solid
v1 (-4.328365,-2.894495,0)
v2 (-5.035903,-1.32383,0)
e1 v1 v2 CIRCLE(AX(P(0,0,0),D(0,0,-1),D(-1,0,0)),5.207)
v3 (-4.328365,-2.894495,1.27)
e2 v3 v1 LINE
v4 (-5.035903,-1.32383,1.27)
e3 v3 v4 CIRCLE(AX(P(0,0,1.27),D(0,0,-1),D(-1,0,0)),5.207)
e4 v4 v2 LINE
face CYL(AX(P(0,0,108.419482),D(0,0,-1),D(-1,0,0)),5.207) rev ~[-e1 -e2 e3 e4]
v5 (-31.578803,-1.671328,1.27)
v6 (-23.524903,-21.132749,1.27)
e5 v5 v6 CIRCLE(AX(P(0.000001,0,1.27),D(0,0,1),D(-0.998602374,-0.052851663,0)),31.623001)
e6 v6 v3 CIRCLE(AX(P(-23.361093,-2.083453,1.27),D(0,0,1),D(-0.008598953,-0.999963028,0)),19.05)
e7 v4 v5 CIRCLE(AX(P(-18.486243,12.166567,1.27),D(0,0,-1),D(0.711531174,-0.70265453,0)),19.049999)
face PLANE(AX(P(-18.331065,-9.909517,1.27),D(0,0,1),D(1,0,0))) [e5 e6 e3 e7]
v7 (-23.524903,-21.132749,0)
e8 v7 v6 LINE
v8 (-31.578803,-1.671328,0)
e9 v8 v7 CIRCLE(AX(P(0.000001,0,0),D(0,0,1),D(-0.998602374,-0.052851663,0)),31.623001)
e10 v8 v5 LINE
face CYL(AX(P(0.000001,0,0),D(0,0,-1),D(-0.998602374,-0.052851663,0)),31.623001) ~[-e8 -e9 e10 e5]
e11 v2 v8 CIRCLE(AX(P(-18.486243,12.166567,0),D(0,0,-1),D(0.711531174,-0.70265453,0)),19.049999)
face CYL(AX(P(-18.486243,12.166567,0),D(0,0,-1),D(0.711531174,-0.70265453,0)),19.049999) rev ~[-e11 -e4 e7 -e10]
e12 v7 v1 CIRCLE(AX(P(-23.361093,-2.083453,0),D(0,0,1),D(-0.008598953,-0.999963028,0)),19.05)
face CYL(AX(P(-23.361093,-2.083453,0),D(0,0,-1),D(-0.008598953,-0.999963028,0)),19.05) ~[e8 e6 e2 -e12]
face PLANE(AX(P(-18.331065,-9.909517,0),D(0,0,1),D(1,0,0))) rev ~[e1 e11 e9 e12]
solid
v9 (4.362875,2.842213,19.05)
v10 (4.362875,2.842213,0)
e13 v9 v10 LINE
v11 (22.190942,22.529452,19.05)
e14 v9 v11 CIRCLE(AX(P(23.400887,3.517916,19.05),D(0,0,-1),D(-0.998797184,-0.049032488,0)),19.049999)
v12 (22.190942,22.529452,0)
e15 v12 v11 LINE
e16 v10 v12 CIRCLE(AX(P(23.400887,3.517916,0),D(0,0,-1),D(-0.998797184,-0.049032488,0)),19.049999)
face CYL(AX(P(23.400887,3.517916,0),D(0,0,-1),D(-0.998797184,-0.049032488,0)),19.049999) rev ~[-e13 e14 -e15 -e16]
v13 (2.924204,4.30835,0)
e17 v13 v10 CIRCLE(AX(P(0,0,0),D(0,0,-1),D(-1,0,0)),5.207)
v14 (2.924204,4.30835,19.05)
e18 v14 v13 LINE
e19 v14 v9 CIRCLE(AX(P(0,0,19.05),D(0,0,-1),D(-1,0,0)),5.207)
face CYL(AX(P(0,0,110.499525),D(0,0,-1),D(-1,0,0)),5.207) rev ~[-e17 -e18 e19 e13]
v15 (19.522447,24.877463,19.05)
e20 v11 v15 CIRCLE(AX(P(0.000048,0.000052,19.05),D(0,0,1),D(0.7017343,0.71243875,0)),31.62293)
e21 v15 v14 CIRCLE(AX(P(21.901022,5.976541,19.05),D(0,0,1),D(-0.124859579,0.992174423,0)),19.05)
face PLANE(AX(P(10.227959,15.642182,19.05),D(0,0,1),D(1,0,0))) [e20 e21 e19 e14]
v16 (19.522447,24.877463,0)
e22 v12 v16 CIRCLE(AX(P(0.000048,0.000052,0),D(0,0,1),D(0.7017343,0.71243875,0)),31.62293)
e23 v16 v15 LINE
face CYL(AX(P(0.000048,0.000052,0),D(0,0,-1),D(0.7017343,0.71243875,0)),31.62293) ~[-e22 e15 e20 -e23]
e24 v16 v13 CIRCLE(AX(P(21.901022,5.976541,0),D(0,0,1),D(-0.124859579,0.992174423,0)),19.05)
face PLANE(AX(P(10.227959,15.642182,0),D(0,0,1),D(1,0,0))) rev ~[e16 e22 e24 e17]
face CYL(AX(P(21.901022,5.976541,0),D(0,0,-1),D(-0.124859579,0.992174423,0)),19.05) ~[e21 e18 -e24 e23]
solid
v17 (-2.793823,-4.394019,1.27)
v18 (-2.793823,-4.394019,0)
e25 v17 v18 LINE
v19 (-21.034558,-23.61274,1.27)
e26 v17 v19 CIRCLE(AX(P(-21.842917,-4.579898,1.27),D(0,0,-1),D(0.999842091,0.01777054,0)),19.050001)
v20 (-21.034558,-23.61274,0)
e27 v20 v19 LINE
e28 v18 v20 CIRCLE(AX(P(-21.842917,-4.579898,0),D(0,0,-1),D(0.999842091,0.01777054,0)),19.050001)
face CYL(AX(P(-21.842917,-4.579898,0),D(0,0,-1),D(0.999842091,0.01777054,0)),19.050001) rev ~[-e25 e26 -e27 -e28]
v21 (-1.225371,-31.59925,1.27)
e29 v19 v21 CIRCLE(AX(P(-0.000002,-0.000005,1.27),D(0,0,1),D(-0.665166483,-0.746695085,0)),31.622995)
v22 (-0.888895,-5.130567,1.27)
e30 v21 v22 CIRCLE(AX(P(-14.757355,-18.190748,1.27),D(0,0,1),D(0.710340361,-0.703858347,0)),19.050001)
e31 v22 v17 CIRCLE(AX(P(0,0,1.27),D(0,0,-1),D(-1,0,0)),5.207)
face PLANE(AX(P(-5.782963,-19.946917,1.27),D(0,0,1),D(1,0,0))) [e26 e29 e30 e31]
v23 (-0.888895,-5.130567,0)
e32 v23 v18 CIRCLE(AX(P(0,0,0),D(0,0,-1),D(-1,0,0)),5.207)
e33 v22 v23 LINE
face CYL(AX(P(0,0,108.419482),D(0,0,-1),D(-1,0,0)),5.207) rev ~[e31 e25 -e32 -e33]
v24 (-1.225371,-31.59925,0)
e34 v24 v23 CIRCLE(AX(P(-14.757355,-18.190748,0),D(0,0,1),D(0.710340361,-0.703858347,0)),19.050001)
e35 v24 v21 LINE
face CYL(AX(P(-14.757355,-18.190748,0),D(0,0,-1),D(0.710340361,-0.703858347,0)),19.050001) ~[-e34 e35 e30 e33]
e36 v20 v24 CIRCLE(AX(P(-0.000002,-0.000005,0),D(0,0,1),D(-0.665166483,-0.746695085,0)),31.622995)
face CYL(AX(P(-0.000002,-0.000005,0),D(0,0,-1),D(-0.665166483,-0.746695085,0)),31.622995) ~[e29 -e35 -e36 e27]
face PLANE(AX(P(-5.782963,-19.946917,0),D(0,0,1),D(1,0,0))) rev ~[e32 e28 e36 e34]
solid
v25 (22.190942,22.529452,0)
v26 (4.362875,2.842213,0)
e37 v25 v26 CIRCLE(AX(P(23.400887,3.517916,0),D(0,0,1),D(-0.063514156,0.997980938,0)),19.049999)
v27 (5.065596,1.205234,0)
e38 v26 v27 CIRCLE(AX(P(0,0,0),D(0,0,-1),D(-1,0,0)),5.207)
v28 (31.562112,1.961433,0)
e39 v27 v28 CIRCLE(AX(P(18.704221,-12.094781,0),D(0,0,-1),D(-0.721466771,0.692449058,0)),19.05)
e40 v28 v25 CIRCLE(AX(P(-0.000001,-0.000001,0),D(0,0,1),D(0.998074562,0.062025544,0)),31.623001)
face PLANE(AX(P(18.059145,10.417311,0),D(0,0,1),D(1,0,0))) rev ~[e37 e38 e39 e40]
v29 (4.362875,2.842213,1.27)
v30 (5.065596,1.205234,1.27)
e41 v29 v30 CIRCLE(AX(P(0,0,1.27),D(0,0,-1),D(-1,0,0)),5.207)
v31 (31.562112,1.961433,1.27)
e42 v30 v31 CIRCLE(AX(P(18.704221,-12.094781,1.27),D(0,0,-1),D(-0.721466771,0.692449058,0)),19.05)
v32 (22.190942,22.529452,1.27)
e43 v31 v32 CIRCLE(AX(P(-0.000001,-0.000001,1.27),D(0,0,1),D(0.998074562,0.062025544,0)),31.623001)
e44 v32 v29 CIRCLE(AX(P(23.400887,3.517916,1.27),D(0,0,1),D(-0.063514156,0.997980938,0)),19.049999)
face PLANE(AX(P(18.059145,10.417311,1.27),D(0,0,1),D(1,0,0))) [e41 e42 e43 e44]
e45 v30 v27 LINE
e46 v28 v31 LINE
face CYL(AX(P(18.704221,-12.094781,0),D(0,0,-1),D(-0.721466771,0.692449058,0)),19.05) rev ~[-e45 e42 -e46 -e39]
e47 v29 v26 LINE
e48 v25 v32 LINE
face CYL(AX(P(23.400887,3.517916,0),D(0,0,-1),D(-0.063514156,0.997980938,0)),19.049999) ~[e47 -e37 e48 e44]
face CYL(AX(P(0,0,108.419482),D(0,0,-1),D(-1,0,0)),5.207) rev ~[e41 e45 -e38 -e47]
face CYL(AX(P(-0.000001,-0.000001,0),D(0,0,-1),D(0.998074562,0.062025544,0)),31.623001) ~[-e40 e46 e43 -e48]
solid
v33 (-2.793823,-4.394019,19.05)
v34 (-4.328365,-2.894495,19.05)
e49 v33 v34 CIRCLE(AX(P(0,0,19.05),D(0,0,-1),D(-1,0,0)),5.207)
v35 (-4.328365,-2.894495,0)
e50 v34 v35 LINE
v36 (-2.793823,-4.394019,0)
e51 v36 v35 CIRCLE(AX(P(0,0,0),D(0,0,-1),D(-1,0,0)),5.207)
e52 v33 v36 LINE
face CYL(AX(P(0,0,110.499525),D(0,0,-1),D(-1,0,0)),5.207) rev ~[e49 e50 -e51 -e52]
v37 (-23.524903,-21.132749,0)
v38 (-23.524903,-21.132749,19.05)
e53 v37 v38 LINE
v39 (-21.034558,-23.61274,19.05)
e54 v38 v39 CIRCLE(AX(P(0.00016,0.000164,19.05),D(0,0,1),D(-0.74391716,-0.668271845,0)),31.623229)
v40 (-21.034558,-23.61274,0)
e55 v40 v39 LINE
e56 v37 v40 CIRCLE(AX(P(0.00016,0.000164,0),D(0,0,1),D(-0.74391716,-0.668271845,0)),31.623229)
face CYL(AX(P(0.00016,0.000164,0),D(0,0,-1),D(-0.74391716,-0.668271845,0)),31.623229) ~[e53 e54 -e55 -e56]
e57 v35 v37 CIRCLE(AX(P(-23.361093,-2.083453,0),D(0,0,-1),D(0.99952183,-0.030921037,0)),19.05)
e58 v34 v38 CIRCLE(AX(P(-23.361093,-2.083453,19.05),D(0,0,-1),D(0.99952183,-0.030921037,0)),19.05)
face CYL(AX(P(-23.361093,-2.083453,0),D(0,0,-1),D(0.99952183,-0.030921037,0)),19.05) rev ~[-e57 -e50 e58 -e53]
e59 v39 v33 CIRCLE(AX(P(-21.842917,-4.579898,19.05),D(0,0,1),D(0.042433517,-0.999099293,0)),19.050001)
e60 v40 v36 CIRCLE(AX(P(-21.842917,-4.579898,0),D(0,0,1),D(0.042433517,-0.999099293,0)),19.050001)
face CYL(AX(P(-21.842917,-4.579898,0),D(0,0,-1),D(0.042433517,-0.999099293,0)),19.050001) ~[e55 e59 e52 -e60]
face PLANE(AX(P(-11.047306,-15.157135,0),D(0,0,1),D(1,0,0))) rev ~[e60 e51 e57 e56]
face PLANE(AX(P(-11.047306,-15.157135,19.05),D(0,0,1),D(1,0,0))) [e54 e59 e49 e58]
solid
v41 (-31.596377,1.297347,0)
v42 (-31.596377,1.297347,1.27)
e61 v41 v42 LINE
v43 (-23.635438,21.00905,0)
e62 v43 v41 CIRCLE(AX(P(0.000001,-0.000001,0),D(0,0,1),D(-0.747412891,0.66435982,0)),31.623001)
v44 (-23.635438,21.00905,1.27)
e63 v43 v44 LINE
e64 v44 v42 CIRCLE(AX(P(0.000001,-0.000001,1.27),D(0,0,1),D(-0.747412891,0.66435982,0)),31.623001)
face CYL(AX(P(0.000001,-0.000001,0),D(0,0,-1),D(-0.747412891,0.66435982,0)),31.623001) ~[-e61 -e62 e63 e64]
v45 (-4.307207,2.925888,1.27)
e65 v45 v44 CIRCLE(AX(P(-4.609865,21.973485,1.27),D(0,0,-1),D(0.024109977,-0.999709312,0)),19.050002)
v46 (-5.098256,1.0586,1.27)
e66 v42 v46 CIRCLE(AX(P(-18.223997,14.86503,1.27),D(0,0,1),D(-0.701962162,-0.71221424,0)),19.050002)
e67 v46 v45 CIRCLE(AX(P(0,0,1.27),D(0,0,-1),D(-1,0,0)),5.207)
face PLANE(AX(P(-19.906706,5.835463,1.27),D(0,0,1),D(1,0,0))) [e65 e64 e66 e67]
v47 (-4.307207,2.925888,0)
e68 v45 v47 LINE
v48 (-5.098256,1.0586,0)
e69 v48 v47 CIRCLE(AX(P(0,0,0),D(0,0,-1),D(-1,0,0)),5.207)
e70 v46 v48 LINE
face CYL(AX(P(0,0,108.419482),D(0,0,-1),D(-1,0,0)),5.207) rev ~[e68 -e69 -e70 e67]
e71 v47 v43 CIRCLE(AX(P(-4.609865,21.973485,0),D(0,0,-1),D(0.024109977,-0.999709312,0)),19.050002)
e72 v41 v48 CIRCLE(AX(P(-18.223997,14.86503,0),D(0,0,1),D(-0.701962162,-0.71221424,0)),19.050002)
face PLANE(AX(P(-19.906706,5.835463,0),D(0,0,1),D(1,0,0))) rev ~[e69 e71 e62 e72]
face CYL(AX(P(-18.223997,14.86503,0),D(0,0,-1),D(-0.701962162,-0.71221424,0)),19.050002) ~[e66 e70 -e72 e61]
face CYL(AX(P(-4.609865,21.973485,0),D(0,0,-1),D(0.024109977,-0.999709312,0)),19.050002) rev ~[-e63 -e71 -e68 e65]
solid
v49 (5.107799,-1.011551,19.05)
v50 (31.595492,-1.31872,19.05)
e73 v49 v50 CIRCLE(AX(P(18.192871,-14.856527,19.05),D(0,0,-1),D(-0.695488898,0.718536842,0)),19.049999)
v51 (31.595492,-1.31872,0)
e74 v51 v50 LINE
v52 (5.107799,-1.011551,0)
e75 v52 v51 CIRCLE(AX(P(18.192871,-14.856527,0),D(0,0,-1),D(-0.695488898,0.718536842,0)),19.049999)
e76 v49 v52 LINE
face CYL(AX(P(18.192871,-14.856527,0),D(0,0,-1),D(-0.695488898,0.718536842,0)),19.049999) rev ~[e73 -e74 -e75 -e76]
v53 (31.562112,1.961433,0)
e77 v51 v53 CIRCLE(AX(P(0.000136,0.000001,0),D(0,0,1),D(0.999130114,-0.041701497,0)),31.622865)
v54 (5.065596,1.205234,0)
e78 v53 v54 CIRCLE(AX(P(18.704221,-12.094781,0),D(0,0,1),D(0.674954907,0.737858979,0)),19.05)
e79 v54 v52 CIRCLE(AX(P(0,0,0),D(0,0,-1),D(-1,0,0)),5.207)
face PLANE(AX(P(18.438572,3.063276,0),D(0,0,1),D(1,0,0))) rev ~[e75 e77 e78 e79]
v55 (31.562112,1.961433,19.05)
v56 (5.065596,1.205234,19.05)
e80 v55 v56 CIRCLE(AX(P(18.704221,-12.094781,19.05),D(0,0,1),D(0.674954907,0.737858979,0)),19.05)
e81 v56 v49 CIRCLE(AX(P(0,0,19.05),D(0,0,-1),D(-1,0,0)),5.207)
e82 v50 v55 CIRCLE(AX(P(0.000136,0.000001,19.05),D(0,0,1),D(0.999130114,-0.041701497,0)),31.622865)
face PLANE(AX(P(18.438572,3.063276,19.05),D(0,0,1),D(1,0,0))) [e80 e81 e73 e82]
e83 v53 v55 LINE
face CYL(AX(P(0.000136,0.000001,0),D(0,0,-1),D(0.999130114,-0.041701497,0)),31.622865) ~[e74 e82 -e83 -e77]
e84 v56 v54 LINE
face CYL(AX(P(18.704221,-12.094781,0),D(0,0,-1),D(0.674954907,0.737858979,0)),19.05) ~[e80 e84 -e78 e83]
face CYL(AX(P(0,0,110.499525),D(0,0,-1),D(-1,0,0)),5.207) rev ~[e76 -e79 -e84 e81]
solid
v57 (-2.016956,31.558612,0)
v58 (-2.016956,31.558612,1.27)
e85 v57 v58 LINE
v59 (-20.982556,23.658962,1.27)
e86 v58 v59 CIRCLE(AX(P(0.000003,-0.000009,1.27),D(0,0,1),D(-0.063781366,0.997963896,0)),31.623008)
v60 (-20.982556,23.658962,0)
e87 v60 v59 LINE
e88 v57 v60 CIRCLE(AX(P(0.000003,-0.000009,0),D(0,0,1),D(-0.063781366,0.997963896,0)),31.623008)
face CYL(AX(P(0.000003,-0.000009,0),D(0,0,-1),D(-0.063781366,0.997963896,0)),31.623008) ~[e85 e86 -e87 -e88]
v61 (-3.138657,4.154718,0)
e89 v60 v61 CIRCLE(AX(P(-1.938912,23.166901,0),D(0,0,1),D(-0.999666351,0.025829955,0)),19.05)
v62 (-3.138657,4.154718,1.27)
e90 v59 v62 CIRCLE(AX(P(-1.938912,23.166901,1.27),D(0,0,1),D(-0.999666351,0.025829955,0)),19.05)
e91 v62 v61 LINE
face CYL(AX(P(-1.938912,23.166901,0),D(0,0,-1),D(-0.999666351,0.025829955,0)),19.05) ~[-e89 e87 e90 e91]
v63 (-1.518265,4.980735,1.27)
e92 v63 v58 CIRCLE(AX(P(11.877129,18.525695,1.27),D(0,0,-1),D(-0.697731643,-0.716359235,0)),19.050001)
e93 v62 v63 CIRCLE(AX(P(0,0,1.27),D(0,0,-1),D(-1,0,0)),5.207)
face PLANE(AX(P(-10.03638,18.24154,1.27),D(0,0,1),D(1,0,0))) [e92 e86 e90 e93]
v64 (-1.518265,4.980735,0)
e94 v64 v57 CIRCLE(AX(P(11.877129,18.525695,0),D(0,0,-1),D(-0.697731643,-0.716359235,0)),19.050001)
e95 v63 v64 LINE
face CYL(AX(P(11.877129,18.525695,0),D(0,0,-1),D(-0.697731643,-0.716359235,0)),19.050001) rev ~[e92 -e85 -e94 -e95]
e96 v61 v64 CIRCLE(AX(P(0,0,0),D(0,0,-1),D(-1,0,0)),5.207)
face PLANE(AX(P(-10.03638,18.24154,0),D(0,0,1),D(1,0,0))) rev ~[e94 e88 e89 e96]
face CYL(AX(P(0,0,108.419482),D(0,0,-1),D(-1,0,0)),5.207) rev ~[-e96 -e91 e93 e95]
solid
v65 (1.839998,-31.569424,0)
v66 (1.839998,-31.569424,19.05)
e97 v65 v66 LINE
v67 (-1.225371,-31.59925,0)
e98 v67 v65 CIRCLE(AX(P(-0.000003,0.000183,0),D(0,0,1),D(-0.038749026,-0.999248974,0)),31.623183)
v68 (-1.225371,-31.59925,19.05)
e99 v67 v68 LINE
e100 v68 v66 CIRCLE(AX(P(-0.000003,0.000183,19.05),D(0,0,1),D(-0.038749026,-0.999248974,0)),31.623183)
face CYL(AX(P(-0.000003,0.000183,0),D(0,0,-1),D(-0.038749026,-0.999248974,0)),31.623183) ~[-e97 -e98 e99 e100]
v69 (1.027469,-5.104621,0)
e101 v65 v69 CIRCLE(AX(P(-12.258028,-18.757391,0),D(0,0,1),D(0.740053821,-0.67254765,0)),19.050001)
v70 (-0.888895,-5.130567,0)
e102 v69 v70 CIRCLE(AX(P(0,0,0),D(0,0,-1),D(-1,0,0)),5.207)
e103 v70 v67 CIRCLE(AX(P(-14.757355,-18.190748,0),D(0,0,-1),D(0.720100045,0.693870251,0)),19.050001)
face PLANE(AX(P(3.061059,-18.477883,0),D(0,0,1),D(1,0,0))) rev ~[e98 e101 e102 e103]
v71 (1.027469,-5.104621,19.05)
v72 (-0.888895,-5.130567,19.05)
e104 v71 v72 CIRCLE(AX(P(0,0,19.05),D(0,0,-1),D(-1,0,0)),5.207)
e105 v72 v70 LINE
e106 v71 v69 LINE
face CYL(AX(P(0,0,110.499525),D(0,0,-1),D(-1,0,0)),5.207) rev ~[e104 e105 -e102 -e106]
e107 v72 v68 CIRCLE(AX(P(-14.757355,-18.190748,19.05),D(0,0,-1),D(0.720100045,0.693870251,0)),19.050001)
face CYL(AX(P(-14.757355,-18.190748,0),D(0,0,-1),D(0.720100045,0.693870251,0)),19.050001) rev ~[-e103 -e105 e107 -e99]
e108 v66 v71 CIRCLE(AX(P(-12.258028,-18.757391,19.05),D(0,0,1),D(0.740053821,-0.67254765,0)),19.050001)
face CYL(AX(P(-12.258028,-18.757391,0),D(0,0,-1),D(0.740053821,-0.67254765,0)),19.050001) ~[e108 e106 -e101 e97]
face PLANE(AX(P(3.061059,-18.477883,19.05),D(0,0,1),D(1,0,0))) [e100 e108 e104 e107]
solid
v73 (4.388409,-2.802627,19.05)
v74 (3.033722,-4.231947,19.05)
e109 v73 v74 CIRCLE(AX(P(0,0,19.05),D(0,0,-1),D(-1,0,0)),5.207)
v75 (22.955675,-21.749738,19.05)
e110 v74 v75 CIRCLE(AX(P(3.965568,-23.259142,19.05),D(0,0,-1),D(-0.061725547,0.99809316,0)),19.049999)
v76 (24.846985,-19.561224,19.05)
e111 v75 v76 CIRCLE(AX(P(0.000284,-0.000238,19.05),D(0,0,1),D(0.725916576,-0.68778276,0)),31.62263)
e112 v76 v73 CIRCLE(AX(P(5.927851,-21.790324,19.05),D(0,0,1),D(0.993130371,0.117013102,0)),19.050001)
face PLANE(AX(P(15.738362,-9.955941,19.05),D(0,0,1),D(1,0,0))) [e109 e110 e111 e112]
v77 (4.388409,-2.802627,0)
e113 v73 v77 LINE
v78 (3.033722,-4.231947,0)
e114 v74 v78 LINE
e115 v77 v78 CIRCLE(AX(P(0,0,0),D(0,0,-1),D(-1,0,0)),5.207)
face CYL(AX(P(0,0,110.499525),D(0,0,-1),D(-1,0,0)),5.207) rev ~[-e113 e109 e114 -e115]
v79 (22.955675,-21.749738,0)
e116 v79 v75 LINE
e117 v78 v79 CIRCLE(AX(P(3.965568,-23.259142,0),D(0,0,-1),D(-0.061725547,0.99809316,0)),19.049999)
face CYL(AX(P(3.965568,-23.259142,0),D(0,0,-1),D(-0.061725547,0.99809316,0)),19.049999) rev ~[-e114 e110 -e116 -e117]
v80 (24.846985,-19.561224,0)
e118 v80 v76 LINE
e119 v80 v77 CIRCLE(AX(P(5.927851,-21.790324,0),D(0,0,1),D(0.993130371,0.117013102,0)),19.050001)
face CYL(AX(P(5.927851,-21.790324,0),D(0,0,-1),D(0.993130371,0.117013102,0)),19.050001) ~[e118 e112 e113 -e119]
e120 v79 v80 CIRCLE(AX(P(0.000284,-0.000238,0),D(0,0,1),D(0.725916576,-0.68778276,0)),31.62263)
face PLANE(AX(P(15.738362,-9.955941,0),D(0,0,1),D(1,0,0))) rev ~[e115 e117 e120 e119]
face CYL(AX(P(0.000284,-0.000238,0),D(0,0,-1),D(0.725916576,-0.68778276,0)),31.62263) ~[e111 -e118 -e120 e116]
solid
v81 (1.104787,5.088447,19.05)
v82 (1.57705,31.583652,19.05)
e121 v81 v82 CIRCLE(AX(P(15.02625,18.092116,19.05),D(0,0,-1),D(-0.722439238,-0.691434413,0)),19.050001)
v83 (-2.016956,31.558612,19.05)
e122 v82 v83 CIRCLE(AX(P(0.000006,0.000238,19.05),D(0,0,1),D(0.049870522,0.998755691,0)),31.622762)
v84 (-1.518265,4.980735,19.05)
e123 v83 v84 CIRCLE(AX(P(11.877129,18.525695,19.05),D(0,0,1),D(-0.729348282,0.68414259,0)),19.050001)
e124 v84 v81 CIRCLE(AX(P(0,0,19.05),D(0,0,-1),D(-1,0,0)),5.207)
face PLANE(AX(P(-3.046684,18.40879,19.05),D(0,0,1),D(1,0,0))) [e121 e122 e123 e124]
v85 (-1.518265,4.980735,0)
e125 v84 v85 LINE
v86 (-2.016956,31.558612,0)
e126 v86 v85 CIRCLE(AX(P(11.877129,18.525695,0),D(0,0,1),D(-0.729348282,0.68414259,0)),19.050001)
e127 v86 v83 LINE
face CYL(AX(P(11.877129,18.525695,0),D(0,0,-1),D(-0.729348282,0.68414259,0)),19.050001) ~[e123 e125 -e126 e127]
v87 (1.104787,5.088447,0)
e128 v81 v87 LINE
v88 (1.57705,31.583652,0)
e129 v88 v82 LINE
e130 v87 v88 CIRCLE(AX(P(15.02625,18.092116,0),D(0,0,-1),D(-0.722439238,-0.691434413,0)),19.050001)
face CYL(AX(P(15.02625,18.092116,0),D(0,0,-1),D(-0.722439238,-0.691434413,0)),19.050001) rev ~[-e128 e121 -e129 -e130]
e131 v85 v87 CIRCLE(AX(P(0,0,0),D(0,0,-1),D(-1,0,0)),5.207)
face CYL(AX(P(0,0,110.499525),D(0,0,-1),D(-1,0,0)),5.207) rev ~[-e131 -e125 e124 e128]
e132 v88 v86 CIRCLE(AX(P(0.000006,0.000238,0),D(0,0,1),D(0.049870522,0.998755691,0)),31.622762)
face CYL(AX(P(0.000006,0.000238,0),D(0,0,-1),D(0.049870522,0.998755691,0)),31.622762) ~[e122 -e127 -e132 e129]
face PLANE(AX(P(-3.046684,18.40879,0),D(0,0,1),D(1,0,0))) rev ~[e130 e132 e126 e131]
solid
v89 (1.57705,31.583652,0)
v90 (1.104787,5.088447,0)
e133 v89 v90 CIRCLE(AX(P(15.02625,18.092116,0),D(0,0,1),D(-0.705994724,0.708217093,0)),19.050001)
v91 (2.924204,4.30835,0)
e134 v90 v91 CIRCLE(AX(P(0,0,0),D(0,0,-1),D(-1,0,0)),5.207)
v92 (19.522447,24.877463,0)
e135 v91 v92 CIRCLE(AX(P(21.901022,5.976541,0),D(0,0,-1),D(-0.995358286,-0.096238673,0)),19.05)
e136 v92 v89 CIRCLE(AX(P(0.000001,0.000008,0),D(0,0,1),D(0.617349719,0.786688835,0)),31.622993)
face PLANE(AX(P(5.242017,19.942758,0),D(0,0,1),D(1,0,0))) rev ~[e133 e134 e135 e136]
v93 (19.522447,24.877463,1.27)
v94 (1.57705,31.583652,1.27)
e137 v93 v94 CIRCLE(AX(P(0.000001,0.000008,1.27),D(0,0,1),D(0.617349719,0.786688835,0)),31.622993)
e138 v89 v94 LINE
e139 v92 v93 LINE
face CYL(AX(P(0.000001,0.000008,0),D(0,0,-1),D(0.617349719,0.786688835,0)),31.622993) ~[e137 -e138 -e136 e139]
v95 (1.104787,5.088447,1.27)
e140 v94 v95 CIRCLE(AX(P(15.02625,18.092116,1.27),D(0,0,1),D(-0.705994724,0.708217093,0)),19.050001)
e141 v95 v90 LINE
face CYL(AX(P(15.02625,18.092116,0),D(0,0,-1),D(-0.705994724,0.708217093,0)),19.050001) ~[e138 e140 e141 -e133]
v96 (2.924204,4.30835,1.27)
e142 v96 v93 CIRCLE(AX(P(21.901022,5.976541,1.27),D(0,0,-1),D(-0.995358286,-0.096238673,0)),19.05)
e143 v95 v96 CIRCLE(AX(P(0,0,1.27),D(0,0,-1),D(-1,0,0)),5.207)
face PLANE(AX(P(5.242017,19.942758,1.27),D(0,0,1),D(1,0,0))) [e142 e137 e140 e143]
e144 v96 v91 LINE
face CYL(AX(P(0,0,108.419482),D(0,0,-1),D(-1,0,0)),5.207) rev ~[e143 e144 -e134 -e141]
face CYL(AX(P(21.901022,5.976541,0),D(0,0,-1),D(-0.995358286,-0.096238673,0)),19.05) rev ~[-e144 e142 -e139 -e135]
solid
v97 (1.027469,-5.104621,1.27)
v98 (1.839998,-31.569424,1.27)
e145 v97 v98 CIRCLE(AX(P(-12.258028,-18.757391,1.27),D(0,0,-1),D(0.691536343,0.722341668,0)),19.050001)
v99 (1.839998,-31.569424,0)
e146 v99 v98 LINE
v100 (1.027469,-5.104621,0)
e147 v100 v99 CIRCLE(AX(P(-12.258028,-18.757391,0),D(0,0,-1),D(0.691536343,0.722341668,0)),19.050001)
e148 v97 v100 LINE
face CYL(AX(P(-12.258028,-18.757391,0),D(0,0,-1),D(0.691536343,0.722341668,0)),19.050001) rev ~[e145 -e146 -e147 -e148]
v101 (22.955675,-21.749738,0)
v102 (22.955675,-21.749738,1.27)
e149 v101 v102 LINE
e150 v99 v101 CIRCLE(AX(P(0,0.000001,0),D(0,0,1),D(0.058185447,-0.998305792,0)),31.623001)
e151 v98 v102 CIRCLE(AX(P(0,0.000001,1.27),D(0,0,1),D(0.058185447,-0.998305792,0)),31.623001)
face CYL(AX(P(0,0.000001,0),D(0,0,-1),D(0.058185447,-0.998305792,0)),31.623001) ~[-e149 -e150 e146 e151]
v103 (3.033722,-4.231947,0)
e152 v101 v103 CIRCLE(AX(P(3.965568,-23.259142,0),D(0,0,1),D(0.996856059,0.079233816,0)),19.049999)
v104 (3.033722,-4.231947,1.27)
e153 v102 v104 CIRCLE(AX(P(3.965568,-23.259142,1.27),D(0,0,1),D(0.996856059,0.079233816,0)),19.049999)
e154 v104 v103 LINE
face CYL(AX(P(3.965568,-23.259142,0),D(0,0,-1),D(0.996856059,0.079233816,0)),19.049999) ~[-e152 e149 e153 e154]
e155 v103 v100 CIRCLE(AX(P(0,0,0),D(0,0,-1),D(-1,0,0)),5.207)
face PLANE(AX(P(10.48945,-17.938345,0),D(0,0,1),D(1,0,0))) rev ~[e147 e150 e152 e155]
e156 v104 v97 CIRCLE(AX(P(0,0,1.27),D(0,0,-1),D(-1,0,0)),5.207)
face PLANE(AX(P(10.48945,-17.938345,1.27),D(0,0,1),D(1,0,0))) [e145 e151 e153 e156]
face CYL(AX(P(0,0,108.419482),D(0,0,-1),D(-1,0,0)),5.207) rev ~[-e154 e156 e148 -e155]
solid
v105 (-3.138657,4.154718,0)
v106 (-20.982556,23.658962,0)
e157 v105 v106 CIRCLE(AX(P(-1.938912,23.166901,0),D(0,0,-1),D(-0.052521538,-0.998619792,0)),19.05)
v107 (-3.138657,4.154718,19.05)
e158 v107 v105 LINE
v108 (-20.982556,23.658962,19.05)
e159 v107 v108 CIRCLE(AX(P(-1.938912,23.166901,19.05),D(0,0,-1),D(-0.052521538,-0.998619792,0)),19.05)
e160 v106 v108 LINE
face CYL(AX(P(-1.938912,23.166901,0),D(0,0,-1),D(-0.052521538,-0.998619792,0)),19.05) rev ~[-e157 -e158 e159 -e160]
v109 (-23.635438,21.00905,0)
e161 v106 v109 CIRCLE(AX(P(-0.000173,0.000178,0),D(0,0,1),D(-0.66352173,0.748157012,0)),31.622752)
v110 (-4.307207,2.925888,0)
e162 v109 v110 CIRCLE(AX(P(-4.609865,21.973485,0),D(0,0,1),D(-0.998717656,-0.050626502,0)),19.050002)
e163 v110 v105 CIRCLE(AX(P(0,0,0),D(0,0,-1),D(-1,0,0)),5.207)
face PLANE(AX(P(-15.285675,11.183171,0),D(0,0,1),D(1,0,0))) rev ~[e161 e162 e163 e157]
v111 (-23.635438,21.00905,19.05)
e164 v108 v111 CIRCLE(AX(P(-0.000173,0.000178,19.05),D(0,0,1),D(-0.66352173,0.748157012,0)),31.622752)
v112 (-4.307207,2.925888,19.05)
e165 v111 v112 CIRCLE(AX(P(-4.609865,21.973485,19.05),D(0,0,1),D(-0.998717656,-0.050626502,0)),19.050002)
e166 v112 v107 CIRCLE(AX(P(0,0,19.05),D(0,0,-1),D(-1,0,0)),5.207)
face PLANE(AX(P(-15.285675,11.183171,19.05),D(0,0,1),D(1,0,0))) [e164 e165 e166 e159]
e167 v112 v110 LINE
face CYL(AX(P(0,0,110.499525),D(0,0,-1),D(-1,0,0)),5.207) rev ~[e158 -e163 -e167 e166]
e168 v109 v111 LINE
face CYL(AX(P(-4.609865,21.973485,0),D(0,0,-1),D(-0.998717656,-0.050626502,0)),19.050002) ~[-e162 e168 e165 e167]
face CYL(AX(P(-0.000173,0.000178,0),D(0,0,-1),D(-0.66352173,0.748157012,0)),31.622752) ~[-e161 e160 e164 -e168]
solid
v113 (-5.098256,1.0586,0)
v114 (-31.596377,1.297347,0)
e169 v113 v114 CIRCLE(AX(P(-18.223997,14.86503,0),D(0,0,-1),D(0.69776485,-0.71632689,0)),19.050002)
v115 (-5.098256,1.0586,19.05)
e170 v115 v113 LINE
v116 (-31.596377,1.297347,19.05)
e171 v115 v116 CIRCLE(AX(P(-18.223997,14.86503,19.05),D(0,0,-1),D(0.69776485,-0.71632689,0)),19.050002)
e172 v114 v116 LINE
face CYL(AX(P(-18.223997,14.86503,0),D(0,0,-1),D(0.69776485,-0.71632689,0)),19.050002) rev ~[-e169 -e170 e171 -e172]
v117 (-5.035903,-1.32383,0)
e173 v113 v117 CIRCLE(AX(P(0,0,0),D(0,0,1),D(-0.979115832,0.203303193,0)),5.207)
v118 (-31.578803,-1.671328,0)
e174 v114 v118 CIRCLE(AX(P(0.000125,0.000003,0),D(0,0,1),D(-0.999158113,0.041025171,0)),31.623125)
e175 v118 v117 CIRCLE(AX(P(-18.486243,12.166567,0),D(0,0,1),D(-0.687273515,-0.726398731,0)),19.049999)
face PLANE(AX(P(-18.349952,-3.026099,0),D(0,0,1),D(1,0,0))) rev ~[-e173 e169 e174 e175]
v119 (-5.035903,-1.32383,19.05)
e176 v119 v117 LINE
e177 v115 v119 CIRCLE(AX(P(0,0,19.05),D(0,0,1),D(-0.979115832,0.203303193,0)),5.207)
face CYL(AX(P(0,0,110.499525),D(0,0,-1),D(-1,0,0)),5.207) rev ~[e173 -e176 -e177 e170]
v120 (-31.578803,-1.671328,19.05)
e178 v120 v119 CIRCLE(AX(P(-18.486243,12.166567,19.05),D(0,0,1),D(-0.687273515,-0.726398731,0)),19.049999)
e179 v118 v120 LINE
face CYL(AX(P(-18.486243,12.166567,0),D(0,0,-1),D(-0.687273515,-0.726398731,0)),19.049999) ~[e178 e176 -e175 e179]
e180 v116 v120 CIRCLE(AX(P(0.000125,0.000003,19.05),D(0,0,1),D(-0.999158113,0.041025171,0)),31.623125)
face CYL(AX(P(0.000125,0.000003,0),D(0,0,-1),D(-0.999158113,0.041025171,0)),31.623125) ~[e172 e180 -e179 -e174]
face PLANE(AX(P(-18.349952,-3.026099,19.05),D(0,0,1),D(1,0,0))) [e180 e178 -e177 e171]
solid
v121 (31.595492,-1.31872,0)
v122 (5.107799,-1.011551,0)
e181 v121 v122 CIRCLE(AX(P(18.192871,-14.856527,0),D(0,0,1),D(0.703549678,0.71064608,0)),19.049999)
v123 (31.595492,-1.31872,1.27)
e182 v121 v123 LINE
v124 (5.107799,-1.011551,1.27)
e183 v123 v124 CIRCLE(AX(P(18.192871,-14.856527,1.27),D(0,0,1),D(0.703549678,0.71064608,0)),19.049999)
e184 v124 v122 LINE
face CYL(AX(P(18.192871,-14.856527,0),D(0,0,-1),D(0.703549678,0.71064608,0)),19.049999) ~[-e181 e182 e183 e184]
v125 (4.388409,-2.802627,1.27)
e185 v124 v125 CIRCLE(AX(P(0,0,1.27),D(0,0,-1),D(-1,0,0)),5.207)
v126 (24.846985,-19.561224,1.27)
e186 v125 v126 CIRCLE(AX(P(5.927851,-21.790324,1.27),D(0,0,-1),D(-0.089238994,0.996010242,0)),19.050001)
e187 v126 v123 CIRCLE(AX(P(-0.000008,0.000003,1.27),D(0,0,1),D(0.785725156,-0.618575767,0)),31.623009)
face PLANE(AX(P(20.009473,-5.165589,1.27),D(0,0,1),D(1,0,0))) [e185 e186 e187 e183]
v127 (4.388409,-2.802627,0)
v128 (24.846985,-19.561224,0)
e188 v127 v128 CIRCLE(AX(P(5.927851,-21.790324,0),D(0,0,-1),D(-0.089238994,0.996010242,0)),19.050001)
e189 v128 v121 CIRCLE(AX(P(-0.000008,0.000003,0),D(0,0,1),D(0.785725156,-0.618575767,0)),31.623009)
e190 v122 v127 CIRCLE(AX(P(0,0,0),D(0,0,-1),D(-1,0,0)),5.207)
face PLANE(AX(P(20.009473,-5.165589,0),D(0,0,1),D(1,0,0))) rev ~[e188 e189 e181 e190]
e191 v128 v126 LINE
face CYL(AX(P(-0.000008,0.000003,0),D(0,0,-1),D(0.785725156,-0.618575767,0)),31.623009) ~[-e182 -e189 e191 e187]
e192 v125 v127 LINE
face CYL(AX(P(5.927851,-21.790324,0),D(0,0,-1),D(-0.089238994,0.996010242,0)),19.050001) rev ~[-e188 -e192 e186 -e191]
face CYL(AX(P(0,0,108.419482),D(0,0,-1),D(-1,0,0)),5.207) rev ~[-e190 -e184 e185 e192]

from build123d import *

# Parameters (mm, degrees)
F1_DEPTH = 19.05
F2_DEPTH = 1.27
F4_D     = 10.414
F4_2_D   = 10.414


with BuildPart() as f1:
    # F0 (on Top) → F1 (new body)
    with BuildSketch(Plane.XY):
        with BuildLine():
            ThreePointArc((-4.15057, 2.929021), (-3.596615, 3.587584), (-2.939447, 4.143194))
            ThreePointArc((-2.939447, 4.143194), (-15.926713, 10.234619), (-20.982556, 23.658962))
            ThreePointArc((-20.982556, 23.658962), (-22.348308, 22.373361), (-23.635438, 21.00905))
            ThreePointArc((-23.635438, 21.00905), (-17.567432, 8.009101), (-4.15057, 2.929021))
        make_face()
        with BuildLine():
            ThreePointArc((-1.414659, 4.879051), (-0.078206, 5.079398), (1.263782, 4.92029))
            ThreePointArc((1.263782, 4.92029), (-4.022436, 18.315919), (1.57705, 31.583652))
            ThreePointArc((1.57705, 31.583652), (-0.220309, 31.622233), (-2.016956, 31.558612))
            ThreePointArc((-2.016956, 31.558612), (-7.168019, 18.095747), (-1.414659, 4.879051))
        make_face()
        with BuildLine():
            ThreePointArc((2.939447, 4.143194), (3.738822, 3.439129), (4.373801, 2.583847))
            ThreePointArc((4.373801, 2.583847), (9.193806, 16.20891), (22.190942, 22.529452))
            ThreePointArc((22.190942, 22.529452), (20.88971, 23.74098), (19.522447, 24.877463))
            ThreePointArc((19.522447, 24.877463), (7.023926, 17.875049), (2.939447, 4.143194))
        make_face()
        with BuildLine():
            ThreePointArc((4.960279, 1.096374), (5.049981, 0.551446), (5.08, 0))
            ThreePointArc((5.08, 0), (5.045837, -0.588156), (4.943808, -1.168401))
            ThreePointArc((4.943808, -1.168401), (18.300314, 4.193169), (31.595492, -1.31872))
            ThreePointArc((31.595492, -1.31872), (31.621363, 0.32179), (31.562112, 1.961433))
            ThreePointArc((31.562112, 1.961433), (18.085065, 6.945155), (4.960279, 1.096374))
        make_face()
        with BuildLine():
            ThreePointArc((24.846985, -19.561224), (17.937118, -7.00249), (4.227848, -2.816328))
            ThreePointArc((4.227848, -2.816328), (3.580795, -3.603375), (2.789696, -4.245468))
            ThreePointArc((2.789696, -4.245468), (16.453026, -8.872834), (22.955675, -21.749738))
            ThreePointArc((22.955675, -21.749738), (23.926366, -20.677117), (24.846985, -19.561224))
        make_face()
        with BuildLine():
            ThreePointArc((1.839998, -31.569424), (6.78046, -18.095188), (0.91574, -4.996781))
            ThreePointArc((0.91574, -4.996781), (-0.063033, -5.079609), (-1.039449, -4.972519))
            ThreePointArc((-1.039449, -4.972519), (4.292181, -18.323762), (-1.225371, -31.59925))
            ThreePointArc((-1.225371, -31.59925), (0.307675, -31.621503), (1.839998, -31.569424))
        make_face()
        with BuildLine():
            ThreePointArc((-21.034558, -23.61274), (-7.97312, -17.63866), (-2.795924, -4.241369))
            ThreePointArc((-2.795924, -4.241369), (-3.643508, -3.53995), (-4.320202, -2.672499))
            ThreePointArc((-4.320202, -2.672499), (-10.15953, -15.817398), (-23.524903, -21.132749))
            ThreePointArc((-23.524903, -21.132749), (-22.31421, -22.407368), (-21.034558, -23.61274))
        make_face()
        with BuildLine():
            ThreePointArc((-4.931575, -1.219001), (-5.08, 0), (-4.931575, 1.219001))
            ThreePointArc((-4.931575, 1.219001), (-18.279969, -4.18489), (-31.596377, 1.297347))
            ThreePointArc((-31.596377, 1.297347), (-31.622446, -0.187197), (-31.578803, -1.671328))
            ThreePointArc((-31.578803, -1.671328), (-18.162923, -6.880688), (-4.931575, -1.219001))
        make_face()
    extrude(amount=F1_DEPTH)

    # F4 (through all)
    with Locations(Plane.XY.offset(19.05)):
        with Locations((0, 0)):
            Hole(F4_D / 2)


with BuildPart() as f2:
    # F0 (on Top) → F2 (new body)
    with BuildSketch(Plane.XY):
        with BuildLine():
            ThreePointArc((-4.931575, 1.219001), (-4.620864, 2.110454), (-4.15057, 2.929021))
            ThreePointArc((-4.15057, 2.929021), (-17.567432, 8.009101), (-23.635438, 21.00905))
            ThreePointArc((-23.635438, 21.00905), (-29.32194, 11.842211), (-31.596377, 1.297347))
            ThreePointArc((-31.596377, 1.297347), (-18.279969, -4.18489), (-4.931575, 1.219001))
        make_face()
        with BuildLine():
            ThreePointArc((-2.939447, 4.143194), (-2.207924, 4.575092), (-1.414659, 4.879051))
            ThreePointArc((-1.414659, 4.879051), (-7.168019, 18.095747), (-2.016956, 31.558612))
            ThreePointArc((-2.016956, 31.558612), (-12.159173, 29.191927), (-20.982556, 23.658962))
            ThreePointArc((-20.982556, 23.658962), (-15.926713, 10.234619), (-2.939447, 4.143194))
        make_face()
        with BuildLine():
            ThreePointArc((1.263782, 4.92029), (2.13723, 4.608541), (2.939447, 4.143194))
            ThreePointArc((2.939447, 4.143194), (7.023926, 17.875049), (19.522447, 24.877463))
            ThreePointArc((19.522447, 24.877463), (11.069798, 29.622183), (1.57705, 31.583652))
            ThreePointArc((1.57705, 31.583652), (-4.022436, 18.315919), (1.263782, 4.92029))
        make_face()
        with BuildLine():
            ThreePointArc((4.373801, 2.583847), (4.725929, 1.863329), (4.960279, 1.096374))
            ThreePointArc((4.960279, 1.096374), (18.085065, 6.945155), (31.562112, 1.961433))
            ThreePointArc((31.562112, 1.961433), (28.776875, 13.111277), (22.190942, 22.529452))
            ThreePointArc((22.190942, 22.529452), (9.193806, 16.20891), (4.373801, 2.583847))
        make_face()
        with BuildLine():
            ThreePointArc((31.595492, -1.31872), (18.300314, 4.193169), (4.943808, -1.168401))
            ThreePointArc((4.943808, -1.168401), (4.659263, -2.024269), (4.227848, -2.816328))
            ThreePointArc((4.227848, -2.816328), (17.937118, -7.00249), (24.846985, -19.561224))
            ThreePointArc((24.846985, -19.561224), (29.65865, -10.971718), (31.595492, -1.31872))
        make_face()
        with BuildLine():
            ThreePointArc((22.955675, -21.749738), (16.453026, -8.872834), (2.789696, -4.245468))
            ThreePointArc((2.789696, -4.245468), (1.890418, -4.715158), (0.91574, -4.996781))
            ThreePointArc((0.91574, -4.996781), (6.78046, -18.095188), (1.839998, -31.569424))
            ThreePointArc((1.839998, -31.569424), (13.334651, -28.674051), (22.955675, -21.749738))
        make_face()
        with BuildLine():
            ThreePointArc((-1.225371, -31.59925), (4.292181, -18.323762), (-1.039449, -4.972519))
            ThreePointArc((-1.039449, -4.972519), (-1.952221, -4.689908), (-2.795924, -4.241369))
            ThreePointArc((-2.795924, -4.241369), (-7.97312, -17.63866), (-21.034558, -23.61274))
            ThreePointArc((-21.034558, -23.61274), (-11.824644, -29.329029), (-1.225371, -31.59925))
        make_face()
        with BuildLine():
            ThreePointArc((-23.524903, -21.132749), (-10.15953, -15.817398), (-4.320202, -2.672499))
            ThreePointArc((-4.320202, -2.672499), (-4.682629, -1.969616), (-4.931575, -1.219001))
            ThreePointArc((-4.931575, -1.219001), (-18.162923, -6.880688), (-31.578803, -1.671328))
            ThreePointArc((-31.578803, -1.671328), (-29.219708, -12.092262), (-23.524903, -21.132749))
        make_face()
    extrude(amount=F2_DEPTH)

    # F4#2 (through all)
    with Locations(Plane.XY.offset(19.05)):
        with Locations((0, 0)):
            Hole(F4_2_D / 2)


solid = Compound([f1.part, f2.part])
